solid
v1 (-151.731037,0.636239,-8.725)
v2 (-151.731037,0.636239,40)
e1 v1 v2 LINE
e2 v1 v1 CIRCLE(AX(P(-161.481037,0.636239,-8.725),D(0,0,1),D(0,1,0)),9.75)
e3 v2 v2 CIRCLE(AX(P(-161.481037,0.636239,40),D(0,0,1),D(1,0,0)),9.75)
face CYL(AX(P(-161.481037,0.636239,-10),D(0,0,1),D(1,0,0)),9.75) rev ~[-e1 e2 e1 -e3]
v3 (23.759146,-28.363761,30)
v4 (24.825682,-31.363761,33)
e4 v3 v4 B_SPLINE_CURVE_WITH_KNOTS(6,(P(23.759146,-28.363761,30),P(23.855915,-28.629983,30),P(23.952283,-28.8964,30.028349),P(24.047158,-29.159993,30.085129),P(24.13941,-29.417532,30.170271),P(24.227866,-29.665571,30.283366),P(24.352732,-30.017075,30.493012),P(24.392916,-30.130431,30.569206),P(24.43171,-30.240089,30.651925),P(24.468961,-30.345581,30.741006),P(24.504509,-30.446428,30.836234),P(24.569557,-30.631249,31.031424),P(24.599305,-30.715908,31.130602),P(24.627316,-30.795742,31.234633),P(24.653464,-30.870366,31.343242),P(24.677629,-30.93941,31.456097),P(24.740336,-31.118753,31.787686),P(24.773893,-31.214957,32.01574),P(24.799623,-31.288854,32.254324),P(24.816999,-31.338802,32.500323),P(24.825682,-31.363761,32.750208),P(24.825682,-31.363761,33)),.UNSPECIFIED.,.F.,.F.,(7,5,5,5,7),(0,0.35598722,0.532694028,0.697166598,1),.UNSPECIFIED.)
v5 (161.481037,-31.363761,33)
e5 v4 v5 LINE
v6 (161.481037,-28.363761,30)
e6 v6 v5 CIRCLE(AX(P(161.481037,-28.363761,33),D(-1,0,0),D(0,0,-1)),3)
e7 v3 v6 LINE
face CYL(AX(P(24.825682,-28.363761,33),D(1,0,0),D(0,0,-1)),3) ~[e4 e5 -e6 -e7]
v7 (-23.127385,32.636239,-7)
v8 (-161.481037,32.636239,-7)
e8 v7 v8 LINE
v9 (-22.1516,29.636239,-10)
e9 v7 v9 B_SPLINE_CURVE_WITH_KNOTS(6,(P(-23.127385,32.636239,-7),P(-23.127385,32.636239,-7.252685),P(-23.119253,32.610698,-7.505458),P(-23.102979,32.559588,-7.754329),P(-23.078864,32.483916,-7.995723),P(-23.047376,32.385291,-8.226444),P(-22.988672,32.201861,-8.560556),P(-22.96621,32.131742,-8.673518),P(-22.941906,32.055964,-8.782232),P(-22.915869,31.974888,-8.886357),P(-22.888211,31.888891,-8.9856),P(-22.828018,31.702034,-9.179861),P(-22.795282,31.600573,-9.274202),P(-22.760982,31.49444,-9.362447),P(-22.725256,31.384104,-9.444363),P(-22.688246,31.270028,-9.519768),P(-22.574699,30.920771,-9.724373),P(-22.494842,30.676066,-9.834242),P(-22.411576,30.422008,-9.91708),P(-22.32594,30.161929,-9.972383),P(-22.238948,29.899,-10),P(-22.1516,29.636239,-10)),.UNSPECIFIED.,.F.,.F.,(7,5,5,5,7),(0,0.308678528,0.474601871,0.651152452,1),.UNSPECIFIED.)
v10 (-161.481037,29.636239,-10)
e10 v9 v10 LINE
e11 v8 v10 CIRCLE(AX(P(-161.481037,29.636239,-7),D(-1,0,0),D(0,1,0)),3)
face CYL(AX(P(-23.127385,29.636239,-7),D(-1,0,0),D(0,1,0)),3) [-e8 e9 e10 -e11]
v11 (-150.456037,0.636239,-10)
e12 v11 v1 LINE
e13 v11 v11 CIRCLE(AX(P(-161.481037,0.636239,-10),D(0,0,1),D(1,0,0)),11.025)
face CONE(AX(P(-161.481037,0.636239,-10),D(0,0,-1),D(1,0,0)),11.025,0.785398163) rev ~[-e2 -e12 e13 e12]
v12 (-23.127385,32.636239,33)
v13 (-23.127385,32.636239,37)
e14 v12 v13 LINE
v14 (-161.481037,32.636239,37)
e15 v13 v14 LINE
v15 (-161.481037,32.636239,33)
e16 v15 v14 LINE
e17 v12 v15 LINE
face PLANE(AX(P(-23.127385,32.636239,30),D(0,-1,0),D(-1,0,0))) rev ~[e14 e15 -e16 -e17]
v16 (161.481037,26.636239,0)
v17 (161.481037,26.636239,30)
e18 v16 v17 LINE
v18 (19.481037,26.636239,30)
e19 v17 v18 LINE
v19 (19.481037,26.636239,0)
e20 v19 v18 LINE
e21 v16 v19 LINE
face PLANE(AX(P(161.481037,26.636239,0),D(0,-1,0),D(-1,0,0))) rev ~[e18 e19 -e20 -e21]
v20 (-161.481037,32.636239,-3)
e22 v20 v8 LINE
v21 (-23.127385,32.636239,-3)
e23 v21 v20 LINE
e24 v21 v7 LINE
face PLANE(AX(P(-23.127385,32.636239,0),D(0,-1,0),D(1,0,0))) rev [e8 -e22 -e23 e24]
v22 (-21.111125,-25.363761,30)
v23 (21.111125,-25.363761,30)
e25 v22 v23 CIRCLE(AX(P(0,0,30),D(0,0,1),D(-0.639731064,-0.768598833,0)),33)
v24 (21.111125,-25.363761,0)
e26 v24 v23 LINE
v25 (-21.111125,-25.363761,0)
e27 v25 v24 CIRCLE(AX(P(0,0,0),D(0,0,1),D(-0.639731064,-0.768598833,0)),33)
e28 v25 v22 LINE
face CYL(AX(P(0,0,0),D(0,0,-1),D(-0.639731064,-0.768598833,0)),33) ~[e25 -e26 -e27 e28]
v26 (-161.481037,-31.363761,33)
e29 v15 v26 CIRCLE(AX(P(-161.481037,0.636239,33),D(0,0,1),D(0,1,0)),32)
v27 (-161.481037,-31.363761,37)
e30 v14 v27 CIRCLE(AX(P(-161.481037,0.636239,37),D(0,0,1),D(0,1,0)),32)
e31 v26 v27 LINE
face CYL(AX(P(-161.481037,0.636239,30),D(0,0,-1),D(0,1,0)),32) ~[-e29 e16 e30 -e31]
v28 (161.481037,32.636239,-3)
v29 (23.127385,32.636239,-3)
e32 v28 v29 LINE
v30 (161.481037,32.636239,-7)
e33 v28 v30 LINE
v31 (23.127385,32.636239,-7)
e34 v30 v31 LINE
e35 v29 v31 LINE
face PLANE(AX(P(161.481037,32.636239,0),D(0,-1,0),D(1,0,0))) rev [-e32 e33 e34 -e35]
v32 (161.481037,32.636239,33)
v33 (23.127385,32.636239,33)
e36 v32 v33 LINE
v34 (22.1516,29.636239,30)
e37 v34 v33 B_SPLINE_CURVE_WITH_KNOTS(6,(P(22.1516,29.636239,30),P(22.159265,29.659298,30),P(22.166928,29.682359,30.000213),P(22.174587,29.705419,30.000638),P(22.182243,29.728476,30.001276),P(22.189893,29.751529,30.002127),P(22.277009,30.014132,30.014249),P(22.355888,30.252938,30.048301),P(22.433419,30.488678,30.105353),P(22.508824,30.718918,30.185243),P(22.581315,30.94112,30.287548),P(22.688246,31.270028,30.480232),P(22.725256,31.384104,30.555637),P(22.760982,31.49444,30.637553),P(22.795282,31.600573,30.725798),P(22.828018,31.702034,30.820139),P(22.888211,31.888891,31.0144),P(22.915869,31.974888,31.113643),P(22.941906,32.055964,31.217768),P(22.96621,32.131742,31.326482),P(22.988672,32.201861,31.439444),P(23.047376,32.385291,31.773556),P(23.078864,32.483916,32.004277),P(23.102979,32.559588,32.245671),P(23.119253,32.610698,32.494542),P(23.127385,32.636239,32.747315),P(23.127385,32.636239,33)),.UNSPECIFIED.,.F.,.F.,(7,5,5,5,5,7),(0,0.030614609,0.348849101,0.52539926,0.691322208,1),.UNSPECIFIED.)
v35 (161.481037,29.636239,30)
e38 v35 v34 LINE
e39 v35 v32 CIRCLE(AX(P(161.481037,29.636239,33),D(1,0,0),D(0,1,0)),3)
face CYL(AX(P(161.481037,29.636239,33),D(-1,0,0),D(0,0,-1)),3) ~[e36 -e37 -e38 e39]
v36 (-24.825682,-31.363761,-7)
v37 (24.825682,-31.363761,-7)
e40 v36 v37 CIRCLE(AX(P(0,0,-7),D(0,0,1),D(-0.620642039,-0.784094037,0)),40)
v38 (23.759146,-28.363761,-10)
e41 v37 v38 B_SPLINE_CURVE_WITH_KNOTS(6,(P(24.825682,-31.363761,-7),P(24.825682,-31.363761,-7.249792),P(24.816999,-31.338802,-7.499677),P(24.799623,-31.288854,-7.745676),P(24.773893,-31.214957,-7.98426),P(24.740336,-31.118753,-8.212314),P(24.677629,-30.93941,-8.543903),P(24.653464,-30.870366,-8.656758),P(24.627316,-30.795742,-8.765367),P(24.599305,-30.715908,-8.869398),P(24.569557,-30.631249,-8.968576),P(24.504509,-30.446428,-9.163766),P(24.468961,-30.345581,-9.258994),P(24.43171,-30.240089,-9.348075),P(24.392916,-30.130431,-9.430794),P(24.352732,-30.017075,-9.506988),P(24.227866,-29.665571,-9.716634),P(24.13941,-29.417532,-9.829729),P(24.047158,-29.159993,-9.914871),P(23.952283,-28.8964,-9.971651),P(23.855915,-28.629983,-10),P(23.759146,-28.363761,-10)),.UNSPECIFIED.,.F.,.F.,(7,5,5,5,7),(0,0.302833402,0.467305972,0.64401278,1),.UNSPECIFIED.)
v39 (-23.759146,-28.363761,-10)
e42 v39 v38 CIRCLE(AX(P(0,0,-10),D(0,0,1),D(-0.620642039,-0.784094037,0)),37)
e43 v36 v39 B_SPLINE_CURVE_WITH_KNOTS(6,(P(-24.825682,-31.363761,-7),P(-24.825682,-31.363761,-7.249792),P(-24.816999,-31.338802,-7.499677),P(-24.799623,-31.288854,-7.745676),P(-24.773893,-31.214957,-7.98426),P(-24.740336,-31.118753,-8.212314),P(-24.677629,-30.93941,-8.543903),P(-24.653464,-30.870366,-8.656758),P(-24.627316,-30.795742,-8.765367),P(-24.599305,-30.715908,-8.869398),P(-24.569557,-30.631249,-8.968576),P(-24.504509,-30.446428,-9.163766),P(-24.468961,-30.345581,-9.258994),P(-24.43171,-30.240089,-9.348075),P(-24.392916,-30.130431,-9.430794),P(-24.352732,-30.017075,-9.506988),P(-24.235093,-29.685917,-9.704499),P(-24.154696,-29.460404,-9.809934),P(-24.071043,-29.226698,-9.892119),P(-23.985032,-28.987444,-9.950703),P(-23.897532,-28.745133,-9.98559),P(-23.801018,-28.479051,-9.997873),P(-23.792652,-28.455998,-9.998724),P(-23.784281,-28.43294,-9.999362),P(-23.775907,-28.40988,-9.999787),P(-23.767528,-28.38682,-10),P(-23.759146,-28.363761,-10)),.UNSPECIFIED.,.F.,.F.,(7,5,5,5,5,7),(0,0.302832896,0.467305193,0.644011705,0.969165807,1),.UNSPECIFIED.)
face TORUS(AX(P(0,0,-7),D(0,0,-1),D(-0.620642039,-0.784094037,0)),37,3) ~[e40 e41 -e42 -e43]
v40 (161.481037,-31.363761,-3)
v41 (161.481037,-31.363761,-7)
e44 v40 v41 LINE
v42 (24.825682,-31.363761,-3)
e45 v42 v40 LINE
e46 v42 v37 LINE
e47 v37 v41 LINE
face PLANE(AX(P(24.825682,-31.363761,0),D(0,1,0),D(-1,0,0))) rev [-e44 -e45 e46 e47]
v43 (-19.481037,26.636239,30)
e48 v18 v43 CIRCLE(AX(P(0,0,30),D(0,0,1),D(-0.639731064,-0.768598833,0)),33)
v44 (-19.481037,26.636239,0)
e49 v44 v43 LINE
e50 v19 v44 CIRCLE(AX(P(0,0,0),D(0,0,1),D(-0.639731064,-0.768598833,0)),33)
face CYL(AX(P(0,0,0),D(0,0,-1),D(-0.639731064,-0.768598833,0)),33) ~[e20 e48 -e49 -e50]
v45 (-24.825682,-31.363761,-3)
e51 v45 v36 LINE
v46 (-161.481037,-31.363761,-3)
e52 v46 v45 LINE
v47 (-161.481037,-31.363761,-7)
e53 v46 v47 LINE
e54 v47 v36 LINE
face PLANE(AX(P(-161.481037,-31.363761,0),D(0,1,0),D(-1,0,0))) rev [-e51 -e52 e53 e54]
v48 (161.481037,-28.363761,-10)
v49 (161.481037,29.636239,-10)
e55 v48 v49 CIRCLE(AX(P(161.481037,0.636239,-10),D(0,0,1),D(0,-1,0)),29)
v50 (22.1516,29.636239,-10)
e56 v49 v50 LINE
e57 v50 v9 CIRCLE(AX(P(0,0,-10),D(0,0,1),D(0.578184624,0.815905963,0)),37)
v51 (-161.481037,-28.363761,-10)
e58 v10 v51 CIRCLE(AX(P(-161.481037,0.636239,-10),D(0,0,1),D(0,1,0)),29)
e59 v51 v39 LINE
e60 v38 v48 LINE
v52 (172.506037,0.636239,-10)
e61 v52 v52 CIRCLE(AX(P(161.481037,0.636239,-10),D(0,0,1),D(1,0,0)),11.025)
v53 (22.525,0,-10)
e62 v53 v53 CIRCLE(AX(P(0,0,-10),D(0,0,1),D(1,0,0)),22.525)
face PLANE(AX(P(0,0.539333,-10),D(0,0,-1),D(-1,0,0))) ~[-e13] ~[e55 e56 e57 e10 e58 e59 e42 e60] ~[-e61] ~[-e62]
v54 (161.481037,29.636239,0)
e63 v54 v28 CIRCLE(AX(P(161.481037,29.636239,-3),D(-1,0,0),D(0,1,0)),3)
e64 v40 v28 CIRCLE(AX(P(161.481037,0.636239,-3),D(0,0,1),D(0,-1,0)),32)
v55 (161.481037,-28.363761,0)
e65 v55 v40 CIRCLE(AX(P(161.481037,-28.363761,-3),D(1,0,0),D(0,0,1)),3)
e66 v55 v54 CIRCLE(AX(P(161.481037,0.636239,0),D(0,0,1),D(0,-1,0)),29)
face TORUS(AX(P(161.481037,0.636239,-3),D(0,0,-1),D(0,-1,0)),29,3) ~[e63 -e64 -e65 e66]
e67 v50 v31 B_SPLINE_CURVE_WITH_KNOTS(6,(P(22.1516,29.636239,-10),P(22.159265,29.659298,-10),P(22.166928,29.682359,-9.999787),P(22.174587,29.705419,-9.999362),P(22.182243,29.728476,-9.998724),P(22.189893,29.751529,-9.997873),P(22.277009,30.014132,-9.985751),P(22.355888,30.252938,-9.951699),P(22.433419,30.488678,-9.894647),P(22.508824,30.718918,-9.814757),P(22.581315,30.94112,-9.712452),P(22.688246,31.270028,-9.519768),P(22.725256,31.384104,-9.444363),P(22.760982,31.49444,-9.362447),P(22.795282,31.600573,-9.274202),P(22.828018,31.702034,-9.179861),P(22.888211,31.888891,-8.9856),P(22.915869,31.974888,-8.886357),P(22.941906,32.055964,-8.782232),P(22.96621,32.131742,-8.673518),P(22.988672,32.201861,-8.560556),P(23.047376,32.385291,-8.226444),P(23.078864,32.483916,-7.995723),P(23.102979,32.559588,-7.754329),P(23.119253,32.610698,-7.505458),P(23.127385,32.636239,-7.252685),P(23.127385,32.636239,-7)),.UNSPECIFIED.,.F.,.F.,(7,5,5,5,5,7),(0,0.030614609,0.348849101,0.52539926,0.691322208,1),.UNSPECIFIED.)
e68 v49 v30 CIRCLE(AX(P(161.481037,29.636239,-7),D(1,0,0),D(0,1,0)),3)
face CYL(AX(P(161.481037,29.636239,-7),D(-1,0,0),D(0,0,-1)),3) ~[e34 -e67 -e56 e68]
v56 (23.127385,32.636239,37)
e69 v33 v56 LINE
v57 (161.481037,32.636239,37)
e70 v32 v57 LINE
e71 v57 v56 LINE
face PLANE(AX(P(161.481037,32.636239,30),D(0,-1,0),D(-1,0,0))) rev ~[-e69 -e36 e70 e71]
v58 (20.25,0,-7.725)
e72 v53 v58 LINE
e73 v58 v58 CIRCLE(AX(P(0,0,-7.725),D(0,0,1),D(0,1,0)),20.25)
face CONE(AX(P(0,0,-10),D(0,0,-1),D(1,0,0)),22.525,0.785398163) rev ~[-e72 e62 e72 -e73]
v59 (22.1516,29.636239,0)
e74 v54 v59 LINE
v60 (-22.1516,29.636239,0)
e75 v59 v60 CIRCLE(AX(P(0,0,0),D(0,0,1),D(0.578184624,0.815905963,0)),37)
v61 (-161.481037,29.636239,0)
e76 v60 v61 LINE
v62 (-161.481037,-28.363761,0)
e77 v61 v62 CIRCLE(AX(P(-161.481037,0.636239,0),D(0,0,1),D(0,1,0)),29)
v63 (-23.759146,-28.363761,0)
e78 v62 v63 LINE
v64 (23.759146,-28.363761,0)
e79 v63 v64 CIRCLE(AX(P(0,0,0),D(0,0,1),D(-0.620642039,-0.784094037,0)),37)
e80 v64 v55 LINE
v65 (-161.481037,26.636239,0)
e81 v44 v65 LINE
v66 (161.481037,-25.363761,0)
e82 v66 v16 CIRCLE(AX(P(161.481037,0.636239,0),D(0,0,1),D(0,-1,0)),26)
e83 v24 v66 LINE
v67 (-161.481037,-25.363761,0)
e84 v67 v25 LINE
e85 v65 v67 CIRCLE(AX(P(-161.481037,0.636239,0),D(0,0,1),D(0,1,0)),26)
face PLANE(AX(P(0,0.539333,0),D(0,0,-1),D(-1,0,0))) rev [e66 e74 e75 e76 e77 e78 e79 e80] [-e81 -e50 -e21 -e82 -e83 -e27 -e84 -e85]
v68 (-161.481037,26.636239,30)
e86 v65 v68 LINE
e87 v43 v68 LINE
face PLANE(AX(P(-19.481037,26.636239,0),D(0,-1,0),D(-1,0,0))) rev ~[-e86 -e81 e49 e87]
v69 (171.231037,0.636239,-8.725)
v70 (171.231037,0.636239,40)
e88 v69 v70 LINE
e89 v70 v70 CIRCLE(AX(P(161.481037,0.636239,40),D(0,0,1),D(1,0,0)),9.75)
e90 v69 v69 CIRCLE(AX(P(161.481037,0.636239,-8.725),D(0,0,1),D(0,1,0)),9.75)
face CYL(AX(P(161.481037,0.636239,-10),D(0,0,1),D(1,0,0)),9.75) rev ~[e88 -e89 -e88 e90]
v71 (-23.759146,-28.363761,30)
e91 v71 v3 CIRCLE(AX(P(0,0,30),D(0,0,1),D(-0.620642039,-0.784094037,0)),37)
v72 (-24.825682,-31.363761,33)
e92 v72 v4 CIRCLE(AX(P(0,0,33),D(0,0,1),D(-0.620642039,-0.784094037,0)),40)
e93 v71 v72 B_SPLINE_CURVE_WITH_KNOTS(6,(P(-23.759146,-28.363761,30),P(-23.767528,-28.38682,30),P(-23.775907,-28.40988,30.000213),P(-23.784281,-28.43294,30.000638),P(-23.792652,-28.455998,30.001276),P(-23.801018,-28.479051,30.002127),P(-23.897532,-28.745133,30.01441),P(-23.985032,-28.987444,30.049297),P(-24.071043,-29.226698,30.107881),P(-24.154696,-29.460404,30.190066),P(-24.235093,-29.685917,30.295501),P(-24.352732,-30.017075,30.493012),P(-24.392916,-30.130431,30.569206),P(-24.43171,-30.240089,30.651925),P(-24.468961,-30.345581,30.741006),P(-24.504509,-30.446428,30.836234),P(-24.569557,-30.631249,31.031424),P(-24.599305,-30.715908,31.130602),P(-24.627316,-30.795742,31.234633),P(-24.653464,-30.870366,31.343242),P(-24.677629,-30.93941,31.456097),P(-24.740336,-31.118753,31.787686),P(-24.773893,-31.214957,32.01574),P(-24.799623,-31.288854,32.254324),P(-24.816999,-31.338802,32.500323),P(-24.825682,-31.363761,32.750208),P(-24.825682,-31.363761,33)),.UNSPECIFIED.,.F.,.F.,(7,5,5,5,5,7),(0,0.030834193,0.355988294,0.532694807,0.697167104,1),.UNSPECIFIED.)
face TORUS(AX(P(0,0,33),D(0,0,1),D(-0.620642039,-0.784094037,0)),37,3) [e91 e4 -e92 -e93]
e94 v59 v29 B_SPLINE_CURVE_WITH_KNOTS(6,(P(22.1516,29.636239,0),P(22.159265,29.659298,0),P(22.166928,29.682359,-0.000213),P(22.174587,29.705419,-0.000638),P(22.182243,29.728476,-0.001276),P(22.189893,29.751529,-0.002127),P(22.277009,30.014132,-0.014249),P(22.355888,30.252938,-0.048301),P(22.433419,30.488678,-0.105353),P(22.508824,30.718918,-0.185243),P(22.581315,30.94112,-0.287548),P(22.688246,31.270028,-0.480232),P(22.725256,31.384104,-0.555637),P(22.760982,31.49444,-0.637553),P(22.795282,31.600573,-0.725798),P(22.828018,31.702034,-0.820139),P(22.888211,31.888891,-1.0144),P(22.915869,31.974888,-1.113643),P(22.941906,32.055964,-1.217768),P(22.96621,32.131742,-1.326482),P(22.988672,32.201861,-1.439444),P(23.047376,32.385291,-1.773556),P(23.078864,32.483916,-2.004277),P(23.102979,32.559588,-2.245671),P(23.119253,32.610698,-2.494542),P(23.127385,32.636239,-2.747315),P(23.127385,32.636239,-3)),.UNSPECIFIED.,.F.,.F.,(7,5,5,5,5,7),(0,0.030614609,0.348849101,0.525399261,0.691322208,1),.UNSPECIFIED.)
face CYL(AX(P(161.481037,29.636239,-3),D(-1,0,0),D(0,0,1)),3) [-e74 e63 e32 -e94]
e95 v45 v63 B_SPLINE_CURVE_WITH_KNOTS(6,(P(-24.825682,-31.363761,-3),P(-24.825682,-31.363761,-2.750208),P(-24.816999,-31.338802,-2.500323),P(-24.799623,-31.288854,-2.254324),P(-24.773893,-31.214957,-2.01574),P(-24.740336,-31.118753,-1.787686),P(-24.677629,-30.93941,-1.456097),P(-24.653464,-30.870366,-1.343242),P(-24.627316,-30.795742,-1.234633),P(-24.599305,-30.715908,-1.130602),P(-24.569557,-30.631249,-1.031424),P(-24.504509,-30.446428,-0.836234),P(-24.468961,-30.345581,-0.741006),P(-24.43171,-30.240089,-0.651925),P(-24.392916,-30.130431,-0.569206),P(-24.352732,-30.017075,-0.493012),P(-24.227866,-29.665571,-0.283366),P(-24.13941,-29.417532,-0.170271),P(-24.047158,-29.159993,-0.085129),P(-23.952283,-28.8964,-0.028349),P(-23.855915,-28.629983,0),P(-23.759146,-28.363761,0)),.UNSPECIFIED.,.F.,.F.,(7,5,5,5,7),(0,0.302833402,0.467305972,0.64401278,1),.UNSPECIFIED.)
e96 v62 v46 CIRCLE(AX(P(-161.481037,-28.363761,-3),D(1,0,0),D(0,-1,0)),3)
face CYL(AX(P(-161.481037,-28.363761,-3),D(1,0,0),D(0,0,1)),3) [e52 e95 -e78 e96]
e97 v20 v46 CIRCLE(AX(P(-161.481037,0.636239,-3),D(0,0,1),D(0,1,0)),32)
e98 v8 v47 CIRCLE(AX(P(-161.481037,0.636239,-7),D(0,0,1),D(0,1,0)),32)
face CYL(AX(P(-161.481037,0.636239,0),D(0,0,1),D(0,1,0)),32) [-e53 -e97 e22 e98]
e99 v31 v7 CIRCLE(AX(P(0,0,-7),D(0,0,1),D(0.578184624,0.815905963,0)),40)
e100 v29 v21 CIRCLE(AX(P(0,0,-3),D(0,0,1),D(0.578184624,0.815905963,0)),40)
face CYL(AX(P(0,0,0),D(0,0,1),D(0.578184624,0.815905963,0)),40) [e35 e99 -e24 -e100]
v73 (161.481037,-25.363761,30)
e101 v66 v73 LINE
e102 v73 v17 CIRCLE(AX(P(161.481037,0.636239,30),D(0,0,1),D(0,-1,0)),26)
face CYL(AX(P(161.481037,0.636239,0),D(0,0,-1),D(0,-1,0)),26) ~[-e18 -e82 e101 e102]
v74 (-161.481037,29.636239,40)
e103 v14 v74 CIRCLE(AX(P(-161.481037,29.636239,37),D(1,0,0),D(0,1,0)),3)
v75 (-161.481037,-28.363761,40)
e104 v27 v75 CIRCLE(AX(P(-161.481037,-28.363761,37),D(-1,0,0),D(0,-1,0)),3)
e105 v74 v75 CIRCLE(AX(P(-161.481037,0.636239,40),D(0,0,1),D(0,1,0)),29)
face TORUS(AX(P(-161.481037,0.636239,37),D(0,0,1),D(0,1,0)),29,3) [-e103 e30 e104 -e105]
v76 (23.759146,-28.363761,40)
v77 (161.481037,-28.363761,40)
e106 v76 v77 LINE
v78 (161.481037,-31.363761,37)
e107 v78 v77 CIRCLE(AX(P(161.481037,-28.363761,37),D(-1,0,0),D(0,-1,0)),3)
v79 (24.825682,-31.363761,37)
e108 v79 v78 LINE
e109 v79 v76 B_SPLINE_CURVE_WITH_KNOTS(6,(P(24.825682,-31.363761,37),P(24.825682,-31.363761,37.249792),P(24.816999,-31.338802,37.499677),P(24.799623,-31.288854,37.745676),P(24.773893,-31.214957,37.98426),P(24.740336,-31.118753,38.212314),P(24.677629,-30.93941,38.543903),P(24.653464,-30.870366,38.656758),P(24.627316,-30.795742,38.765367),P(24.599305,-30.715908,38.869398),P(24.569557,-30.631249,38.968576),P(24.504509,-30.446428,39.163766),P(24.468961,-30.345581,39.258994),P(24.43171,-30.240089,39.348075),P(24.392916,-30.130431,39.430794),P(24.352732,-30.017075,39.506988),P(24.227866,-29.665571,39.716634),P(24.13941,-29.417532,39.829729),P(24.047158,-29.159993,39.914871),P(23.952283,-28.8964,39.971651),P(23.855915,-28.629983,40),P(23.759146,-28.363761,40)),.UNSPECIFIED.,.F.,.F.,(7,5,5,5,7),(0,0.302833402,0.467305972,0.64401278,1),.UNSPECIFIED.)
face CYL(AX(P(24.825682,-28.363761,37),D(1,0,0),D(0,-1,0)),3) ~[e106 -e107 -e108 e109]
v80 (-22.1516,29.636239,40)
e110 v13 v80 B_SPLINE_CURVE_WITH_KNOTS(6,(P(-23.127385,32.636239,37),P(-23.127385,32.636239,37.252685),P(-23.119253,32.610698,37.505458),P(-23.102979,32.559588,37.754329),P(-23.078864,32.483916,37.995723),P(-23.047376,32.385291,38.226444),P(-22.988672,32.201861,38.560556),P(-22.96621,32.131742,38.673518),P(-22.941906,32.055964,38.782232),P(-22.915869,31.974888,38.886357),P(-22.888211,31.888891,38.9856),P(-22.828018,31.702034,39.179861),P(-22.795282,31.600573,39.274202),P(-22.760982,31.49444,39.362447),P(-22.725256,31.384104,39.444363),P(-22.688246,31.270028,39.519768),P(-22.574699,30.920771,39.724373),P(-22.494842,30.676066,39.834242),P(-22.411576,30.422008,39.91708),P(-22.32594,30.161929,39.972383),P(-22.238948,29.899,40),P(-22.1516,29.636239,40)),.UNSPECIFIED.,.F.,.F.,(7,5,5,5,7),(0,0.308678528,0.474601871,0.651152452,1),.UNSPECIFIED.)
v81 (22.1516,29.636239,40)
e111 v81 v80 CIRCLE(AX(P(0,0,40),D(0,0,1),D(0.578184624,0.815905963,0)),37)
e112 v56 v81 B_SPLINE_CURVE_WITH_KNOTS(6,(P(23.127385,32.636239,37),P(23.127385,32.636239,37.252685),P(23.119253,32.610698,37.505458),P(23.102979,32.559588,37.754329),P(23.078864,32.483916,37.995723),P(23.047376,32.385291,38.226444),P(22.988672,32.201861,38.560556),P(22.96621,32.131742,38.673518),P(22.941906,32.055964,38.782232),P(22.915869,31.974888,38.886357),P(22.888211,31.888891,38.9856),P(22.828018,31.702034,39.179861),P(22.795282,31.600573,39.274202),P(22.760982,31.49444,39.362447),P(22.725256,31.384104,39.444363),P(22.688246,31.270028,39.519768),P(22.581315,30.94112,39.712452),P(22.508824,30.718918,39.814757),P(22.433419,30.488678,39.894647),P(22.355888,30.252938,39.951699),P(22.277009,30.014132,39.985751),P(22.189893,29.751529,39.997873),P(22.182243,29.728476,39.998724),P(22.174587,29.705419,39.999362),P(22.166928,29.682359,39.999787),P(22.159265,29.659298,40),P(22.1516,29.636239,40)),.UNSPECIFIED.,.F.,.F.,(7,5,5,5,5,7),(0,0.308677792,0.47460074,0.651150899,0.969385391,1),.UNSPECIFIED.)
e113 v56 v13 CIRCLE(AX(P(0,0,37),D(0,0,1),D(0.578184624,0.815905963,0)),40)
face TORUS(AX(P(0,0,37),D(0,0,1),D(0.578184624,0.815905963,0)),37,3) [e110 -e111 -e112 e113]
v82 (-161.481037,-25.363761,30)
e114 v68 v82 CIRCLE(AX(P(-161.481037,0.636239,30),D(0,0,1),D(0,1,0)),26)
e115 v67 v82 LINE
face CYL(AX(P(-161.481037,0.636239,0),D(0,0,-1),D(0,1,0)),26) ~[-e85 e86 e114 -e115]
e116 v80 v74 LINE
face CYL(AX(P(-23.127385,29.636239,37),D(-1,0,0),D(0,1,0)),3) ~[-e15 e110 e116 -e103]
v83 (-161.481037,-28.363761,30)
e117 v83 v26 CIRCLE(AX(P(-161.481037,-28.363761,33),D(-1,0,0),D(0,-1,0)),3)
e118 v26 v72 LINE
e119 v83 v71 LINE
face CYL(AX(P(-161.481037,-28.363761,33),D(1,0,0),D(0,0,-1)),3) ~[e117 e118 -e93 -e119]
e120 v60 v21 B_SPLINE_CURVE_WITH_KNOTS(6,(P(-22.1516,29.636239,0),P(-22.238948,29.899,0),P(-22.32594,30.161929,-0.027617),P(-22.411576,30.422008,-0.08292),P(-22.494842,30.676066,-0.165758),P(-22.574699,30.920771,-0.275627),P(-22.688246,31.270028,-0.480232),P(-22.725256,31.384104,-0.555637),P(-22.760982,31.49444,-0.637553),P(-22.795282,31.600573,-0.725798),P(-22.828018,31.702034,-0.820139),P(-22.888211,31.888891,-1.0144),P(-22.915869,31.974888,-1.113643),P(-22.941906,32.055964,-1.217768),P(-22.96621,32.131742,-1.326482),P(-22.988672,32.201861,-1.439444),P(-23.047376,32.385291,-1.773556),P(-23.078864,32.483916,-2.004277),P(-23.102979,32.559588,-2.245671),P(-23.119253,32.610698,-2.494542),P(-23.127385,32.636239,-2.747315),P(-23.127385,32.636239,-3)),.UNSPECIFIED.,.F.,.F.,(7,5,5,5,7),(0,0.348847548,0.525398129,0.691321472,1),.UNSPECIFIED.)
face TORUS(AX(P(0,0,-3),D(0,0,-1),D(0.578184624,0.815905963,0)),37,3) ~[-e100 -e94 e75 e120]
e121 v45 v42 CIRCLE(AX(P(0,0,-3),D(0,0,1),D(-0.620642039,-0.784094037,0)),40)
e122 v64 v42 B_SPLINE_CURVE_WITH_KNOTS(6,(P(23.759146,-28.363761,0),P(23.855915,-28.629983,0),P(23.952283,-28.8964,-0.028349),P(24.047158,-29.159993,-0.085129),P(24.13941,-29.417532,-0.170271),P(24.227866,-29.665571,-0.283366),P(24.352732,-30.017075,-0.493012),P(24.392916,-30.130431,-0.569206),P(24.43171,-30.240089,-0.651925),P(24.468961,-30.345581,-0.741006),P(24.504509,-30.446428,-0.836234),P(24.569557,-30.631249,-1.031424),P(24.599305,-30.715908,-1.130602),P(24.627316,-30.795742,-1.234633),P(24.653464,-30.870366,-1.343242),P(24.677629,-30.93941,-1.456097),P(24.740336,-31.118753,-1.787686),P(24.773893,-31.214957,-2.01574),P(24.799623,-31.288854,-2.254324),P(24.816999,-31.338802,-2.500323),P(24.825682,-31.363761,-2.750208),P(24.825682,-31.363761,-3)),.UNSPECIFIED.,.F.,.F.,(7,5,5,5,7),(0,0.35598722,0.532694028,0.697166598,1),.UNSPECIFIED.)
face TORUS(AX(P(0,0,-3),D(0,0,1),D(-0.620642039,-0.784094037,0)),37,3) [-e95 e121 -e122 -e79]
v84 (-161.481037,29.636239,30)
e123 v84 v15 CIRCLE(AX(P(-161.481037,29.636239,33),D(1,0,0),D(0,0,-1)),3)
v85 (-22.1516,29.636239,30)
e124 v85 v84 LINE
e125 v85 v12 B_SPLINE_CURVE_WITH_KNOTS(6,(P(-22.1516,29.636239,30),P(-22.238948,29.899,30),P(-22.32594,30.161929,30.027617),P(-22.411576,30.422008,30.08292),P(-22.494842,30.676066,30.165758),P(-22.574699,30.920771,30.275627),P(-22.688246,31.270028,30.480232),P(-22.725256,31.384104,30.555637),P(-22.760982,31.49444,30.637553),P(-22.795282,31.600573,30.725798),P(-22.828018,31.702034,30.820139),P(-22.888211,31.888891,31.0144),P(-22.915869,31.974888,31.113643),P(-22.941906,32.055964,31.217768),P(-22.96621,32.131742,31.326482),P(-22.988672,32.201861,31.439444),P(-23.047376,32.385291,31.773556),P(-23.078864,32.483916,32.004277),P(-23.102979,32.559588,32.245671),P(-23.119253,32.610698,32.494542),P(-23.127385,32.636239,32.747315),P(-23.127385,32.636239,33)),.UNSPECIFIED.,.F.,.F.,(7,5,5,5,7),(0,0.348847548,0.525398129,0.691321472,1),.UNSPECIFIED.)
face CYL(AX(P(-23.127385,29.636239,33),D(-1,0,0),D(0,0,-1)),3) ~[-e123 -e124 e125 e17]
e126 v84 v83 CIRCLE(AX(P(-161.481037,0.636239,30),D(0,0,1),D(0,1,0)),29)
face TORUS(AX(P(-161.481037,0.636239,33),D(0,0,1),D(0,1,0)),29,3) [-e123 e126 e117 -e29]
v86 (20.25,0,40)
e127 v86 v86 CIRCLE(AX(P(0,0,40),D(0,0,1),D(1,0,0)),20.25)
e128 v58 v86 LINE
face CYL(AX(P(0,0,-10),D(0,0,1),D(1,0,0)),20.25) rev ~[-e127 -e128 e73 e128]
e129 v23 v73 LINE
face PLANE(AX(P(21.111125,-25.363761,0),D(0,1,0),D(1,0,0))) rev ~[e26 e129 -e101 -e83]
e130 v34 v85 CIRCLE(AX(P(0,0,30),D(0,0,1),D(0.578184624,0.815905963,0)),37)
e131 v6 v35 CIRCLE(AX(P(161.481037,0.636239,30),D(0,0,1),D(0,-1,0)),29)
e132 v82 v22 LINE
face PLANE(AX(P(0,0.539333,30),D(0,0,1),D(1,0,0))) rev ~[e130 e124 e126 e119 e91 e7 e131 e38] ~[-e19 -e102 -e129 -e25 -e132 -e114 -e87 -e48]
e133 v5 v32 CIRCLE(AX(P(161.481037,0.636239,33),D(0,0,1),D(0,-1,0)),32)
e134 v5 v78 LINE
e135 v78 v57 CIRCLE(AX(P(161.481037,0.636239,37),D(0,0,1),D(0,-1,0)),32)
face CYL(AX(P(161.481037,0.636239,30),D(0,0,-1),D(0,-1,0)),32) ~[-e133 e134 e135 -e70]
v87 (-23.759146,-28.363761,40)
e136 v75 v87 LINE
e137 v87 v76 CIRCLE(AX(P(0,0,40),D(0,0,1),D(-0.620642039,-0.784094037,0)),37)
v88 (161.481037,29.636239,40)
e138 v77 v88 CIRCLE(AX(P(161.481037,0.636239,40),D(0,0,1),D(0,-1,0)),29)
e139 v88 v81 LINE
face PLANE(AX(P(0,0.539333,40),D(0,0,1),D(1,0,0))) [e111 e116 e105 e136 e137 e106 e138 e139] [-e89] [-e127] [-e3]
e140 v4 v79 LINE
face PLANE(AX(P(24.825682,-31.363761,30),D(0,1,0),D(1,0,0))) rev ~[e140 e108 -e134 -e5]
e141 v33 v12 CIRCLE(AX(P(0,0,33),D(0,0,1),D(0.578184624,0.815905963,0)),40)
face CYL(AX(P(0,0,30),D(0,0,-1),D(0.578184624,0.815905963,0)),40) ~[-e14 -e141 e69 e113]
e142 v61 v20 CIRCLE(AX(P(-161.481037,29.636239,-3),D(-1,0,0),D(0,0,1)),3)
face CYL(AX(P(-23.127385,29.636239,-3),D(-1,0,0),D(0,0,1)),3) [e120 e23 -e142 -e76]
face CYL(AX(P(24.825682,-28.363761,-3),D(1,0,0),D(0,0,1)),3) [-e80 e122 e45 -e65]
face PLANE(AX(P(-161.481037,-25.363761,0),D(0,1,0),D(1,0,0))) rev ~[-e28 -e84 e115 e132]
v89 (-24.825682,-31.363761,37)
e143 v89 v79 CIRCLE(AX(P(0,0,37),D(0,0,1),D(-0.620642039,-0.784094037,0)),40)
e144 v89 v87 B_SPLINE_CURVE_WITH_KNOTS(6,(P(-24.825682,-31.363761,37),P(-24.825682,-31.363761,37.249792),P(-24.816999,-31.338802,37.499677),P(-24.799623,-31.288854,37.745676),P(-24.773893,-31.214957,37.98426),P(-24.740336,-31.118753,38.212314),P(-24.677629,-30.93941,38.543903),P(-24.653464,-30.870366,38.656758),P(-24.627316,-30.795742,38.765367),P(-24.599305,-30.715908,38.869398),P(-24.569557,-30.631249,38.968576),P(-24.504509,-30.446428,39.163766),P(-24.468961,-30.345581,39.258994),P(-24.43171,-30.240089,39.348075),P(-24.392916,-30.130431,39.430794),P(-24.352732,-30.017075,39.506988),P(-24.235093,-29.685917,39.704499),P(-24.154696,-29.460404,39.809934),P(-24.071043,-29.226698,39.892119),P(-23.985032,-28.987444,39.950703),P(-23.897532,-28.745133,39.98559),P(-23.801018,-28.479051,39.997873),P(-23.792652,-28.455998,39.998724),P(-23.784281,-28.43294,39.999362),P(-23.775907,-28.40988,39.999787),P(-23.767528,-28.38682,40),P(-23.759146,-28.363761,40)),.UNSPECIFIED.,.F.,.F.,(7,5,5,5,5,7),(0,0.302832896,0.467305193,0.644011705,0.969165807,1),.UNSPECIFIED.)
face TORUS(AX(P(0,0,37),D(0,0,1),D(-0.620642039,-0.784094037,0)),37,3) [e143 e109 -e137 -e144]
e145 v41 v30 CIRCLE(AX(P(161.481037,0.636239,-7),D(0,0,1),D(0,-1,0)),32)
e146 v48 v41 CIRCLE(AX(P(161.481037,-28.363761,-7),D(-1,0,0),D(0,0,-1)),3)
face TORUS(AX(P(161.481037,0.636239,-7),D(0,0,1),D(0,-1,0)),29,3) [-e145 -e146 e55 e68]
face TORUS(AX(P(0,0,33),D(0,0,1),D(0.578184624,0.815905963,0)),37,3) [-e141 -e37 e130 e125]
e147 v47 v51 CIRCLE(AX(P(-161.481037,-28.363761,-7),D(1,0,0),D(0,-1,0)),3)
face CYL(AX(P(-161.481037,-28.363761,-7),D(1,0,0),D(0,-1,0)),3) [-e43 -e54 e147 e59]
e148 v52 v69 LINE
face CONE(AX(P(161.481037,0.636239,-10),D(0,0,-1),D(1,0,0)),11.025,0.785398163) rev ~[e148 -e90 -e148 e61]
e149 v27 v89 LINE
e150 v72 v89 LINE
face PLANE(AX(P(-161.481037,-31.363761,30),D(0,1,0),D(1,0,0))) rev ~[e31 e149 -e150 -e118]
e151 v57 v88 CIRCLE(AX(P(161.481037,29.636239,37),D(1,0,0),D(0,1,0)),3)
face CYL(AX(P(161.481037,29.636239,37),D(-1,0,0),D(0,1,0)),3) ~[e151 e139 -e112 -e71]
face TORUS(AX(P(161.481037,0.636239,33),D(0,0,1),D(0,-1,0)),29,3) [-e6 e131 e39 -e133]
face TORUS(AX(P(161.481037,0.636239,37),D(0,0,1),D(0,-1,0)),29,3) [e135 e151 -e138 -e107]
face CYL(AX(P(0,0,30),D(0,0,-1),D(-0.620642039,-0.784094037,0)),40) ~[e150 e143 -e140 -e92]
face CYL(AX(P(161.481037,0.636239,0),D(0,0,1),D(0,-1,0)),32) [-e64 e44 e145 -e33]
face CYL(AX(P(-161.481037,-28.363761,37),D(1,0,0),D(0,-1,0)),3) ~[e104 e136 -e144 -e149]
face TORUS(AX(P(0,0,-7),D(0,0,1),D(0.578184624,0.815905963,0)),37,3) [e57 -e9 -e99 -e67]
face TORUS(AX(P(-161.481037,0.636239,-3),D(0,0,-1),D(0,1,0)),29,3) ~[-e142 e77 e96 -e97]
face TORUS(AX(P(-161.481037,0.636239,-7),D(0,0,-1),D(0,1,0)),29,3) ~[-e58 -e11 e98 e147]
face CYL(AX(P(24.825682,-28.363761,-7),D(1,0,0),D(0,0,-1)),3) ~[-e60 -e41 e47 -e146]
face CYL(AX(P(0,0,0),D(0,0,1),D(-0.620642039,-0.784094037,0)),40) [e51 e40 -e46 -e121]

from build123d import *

# Parameters (mm, degrees)
SKETCH1_R                    = 33
BOSS_EXTRUDE1_DEPTH          = 30
BOSS_EXTRUDE4_DEPTH          = 10
FILLET2_R                    = 3
M45_TAPPED_HOLE2_D           = 40.5
M45_TAPPED_HOLE2_CSINK_D     = 45.05
M45_TAPPED_HOLE2_CSINK_ANGLE = 90
M22_TAPPED_HOLE1_D           = 19.5
M22_TAPPED_HOLE1_CSINK_D     = 22.05
M22_TAPPED_HOLE1_CSINK_ANGLE = 90


with BuildPart() as part:
    # Sketch1 → Boss-Extrude1 (new body)
    with BuildSketch(Plane.XY):
        with BuildLine():
            ThreePointArc((-21.11112511, -25.363761484), (-32.983797593, 1.033971162), (-19.481036874, 26.636238516))
            Line((-19.481036874, 26.636238516), (-161.481036874, 26.636238516))
            ThreePointArc((-161.481036874, 26.636238516), (-187.481036874, 0.636238516), (-161.481036874, -25.363761484))
            Line((-161.481036874, -25.363761484), (-21.11112511, -25.363761484))
        make_face()
        Circle(SKETCH1_R)
        with BuildLine():
            Line((161.481036874, 26.636238516), (19.481036874, 26.636238516))
            ThreePointArc((19.481036874, 26.636238516), (29.426809348, 14.93529014), (33, 0))
            ThreePointArc((33, 0), (29.880320686, -14.00594287), (21.11112511, -25.363761484))
            Line((21.11112511, -25.363761484), (161.481036874, -25.363761484))
            ThreePointArc((161.481036874, -25.363761484), (187.481036874, 0.636238516), (161.481036874, 26.636238516))
        make_face()
    extrude(amount=BOSS_EXTRUDE1_DEPTH)

    # Sketch2 → Boss-Extrude4 (add)
    with BuildSketch(Plane.XY.offset(30)):
        with BuildLine():
            Line((-161.481036874, -31.363761484), (-24.825681574, -31.363761484))
            ThreePointArc((-24.825681574, -31.363761484), (0, -40), (24.825681574, -31.363761484))
            Line((24.825681574, -31.363761484), (161.481036874, -31.363761484))
            ThreePointArc((161.481036874, -31.363761484), (193.481036874, 0.636238516), (161.481036874, 32.636238516))
            Line((161.481036874, 32.636238516), (23.127384969, 32.636238516))
            ThreePointArc((23.127384969, 32.636238516), (0, 40), (-23.127384969, 32.636238516))
            Line((-23.127384969, 32.636238516), (-161.481036874, 32.636238516))
            ThreePointArc((-161.481036874, 32.636238516), (-193.481036874, 0.636238516), (-161.481036874, -31.363761484))
        make_face()
    boss_extrude4 = extrude(amount=BOSS_EXTRUDE4_DEPTH)

    # Mirror1: Boss-Extrude4 across plane
    add(boss_extrude4.mirror(Plane.XY.offset(15)))

    # Fillet2
    fillet2_edges = [part.edges().sort_by_distance(p)[0] for p in [
        (0, -40, 30),
        (93.153359224, -31.363761484, 40),
        (193.481036874, 0.636238516, 40),
        (92.304210922, 32.636238516, 40),
        (0, 40, 30),
        (-92.304210922, 32.636238516, 30),
        (-193.481036874, 0.636238516, 30),
        (-93.153359224, -31.363761484, 30),
        (0, -40, 40),
        (0, 40, 40),
        (-92.304210922, 32.636238516, 40),
        (-193.481036874, 0.636238516, 40),
        (-93.153359224, -31.363761484, 40),
        (92.304210922, 32.636238516, 30),
        (193.481036874, 0.636238516, 30),
        (93.153359224, -31.363761484, 30),
        (0, -40, -10),
        (-93.153359224, -31.363761484, -10),
        (-193.481036874, 0.636238516, -10),
        (-92.304210922, 32.636238516, -10),
        (0, 40, -10),
        (92.304210922, 32.636238516, 0),
        (193.481036874, 0.636238516, 0),
        (93.153359224, -31.363761484, 0),
        (92.304210922, 32.636238516, -10),
        (193.481036874, 0.636238516, -10),
        (93.153359224, -31.363761484, -10),
        (0, -40, 0),
        (0, 40, 0),
        (-92.304210922, 32.636238516, 0),
        (-193.481036874, 0.636238516, 0),
        (-93.153359224, -31.363761484, 0),
    ]]
    fillet(fillet2_edges, radius=FILLET2_R)

    # M45 Tapped Hole2 (through all)
    with Locations(Plane(origin=(0, 0, -10), x_dir=(-1, 0, 0), z_dir=(0, 0, -1))):
        with Locations((0, 0)):
            CounterSinkHole(M45_TAPPED_HOLE2_D / 2, M45_TAPPED_HOLE2_CSINK_D / 2, counter_sink_angle=M45_TAPPED_HOLE2_CSINK_ANGLE)

    # M22 Tapped Hole1 (through all)
    with Locations(Plane(origin=(0, 0, -10), x_dir=(-1, 0, 0), z_dir=(0, 0, -1))):
        with Locations((-161.481036874, 0.636238516), (161.481036874, 0.636238516)):
            CounterSinkHole(M22_TAPPED_HOLE1_D / 2, M22_TAPPED_HOLE1_CSINK_D / 2, counter_sink_angle=M22_TAPPED_HOLE1_CSINK_ANGLE)


solid = part.part
